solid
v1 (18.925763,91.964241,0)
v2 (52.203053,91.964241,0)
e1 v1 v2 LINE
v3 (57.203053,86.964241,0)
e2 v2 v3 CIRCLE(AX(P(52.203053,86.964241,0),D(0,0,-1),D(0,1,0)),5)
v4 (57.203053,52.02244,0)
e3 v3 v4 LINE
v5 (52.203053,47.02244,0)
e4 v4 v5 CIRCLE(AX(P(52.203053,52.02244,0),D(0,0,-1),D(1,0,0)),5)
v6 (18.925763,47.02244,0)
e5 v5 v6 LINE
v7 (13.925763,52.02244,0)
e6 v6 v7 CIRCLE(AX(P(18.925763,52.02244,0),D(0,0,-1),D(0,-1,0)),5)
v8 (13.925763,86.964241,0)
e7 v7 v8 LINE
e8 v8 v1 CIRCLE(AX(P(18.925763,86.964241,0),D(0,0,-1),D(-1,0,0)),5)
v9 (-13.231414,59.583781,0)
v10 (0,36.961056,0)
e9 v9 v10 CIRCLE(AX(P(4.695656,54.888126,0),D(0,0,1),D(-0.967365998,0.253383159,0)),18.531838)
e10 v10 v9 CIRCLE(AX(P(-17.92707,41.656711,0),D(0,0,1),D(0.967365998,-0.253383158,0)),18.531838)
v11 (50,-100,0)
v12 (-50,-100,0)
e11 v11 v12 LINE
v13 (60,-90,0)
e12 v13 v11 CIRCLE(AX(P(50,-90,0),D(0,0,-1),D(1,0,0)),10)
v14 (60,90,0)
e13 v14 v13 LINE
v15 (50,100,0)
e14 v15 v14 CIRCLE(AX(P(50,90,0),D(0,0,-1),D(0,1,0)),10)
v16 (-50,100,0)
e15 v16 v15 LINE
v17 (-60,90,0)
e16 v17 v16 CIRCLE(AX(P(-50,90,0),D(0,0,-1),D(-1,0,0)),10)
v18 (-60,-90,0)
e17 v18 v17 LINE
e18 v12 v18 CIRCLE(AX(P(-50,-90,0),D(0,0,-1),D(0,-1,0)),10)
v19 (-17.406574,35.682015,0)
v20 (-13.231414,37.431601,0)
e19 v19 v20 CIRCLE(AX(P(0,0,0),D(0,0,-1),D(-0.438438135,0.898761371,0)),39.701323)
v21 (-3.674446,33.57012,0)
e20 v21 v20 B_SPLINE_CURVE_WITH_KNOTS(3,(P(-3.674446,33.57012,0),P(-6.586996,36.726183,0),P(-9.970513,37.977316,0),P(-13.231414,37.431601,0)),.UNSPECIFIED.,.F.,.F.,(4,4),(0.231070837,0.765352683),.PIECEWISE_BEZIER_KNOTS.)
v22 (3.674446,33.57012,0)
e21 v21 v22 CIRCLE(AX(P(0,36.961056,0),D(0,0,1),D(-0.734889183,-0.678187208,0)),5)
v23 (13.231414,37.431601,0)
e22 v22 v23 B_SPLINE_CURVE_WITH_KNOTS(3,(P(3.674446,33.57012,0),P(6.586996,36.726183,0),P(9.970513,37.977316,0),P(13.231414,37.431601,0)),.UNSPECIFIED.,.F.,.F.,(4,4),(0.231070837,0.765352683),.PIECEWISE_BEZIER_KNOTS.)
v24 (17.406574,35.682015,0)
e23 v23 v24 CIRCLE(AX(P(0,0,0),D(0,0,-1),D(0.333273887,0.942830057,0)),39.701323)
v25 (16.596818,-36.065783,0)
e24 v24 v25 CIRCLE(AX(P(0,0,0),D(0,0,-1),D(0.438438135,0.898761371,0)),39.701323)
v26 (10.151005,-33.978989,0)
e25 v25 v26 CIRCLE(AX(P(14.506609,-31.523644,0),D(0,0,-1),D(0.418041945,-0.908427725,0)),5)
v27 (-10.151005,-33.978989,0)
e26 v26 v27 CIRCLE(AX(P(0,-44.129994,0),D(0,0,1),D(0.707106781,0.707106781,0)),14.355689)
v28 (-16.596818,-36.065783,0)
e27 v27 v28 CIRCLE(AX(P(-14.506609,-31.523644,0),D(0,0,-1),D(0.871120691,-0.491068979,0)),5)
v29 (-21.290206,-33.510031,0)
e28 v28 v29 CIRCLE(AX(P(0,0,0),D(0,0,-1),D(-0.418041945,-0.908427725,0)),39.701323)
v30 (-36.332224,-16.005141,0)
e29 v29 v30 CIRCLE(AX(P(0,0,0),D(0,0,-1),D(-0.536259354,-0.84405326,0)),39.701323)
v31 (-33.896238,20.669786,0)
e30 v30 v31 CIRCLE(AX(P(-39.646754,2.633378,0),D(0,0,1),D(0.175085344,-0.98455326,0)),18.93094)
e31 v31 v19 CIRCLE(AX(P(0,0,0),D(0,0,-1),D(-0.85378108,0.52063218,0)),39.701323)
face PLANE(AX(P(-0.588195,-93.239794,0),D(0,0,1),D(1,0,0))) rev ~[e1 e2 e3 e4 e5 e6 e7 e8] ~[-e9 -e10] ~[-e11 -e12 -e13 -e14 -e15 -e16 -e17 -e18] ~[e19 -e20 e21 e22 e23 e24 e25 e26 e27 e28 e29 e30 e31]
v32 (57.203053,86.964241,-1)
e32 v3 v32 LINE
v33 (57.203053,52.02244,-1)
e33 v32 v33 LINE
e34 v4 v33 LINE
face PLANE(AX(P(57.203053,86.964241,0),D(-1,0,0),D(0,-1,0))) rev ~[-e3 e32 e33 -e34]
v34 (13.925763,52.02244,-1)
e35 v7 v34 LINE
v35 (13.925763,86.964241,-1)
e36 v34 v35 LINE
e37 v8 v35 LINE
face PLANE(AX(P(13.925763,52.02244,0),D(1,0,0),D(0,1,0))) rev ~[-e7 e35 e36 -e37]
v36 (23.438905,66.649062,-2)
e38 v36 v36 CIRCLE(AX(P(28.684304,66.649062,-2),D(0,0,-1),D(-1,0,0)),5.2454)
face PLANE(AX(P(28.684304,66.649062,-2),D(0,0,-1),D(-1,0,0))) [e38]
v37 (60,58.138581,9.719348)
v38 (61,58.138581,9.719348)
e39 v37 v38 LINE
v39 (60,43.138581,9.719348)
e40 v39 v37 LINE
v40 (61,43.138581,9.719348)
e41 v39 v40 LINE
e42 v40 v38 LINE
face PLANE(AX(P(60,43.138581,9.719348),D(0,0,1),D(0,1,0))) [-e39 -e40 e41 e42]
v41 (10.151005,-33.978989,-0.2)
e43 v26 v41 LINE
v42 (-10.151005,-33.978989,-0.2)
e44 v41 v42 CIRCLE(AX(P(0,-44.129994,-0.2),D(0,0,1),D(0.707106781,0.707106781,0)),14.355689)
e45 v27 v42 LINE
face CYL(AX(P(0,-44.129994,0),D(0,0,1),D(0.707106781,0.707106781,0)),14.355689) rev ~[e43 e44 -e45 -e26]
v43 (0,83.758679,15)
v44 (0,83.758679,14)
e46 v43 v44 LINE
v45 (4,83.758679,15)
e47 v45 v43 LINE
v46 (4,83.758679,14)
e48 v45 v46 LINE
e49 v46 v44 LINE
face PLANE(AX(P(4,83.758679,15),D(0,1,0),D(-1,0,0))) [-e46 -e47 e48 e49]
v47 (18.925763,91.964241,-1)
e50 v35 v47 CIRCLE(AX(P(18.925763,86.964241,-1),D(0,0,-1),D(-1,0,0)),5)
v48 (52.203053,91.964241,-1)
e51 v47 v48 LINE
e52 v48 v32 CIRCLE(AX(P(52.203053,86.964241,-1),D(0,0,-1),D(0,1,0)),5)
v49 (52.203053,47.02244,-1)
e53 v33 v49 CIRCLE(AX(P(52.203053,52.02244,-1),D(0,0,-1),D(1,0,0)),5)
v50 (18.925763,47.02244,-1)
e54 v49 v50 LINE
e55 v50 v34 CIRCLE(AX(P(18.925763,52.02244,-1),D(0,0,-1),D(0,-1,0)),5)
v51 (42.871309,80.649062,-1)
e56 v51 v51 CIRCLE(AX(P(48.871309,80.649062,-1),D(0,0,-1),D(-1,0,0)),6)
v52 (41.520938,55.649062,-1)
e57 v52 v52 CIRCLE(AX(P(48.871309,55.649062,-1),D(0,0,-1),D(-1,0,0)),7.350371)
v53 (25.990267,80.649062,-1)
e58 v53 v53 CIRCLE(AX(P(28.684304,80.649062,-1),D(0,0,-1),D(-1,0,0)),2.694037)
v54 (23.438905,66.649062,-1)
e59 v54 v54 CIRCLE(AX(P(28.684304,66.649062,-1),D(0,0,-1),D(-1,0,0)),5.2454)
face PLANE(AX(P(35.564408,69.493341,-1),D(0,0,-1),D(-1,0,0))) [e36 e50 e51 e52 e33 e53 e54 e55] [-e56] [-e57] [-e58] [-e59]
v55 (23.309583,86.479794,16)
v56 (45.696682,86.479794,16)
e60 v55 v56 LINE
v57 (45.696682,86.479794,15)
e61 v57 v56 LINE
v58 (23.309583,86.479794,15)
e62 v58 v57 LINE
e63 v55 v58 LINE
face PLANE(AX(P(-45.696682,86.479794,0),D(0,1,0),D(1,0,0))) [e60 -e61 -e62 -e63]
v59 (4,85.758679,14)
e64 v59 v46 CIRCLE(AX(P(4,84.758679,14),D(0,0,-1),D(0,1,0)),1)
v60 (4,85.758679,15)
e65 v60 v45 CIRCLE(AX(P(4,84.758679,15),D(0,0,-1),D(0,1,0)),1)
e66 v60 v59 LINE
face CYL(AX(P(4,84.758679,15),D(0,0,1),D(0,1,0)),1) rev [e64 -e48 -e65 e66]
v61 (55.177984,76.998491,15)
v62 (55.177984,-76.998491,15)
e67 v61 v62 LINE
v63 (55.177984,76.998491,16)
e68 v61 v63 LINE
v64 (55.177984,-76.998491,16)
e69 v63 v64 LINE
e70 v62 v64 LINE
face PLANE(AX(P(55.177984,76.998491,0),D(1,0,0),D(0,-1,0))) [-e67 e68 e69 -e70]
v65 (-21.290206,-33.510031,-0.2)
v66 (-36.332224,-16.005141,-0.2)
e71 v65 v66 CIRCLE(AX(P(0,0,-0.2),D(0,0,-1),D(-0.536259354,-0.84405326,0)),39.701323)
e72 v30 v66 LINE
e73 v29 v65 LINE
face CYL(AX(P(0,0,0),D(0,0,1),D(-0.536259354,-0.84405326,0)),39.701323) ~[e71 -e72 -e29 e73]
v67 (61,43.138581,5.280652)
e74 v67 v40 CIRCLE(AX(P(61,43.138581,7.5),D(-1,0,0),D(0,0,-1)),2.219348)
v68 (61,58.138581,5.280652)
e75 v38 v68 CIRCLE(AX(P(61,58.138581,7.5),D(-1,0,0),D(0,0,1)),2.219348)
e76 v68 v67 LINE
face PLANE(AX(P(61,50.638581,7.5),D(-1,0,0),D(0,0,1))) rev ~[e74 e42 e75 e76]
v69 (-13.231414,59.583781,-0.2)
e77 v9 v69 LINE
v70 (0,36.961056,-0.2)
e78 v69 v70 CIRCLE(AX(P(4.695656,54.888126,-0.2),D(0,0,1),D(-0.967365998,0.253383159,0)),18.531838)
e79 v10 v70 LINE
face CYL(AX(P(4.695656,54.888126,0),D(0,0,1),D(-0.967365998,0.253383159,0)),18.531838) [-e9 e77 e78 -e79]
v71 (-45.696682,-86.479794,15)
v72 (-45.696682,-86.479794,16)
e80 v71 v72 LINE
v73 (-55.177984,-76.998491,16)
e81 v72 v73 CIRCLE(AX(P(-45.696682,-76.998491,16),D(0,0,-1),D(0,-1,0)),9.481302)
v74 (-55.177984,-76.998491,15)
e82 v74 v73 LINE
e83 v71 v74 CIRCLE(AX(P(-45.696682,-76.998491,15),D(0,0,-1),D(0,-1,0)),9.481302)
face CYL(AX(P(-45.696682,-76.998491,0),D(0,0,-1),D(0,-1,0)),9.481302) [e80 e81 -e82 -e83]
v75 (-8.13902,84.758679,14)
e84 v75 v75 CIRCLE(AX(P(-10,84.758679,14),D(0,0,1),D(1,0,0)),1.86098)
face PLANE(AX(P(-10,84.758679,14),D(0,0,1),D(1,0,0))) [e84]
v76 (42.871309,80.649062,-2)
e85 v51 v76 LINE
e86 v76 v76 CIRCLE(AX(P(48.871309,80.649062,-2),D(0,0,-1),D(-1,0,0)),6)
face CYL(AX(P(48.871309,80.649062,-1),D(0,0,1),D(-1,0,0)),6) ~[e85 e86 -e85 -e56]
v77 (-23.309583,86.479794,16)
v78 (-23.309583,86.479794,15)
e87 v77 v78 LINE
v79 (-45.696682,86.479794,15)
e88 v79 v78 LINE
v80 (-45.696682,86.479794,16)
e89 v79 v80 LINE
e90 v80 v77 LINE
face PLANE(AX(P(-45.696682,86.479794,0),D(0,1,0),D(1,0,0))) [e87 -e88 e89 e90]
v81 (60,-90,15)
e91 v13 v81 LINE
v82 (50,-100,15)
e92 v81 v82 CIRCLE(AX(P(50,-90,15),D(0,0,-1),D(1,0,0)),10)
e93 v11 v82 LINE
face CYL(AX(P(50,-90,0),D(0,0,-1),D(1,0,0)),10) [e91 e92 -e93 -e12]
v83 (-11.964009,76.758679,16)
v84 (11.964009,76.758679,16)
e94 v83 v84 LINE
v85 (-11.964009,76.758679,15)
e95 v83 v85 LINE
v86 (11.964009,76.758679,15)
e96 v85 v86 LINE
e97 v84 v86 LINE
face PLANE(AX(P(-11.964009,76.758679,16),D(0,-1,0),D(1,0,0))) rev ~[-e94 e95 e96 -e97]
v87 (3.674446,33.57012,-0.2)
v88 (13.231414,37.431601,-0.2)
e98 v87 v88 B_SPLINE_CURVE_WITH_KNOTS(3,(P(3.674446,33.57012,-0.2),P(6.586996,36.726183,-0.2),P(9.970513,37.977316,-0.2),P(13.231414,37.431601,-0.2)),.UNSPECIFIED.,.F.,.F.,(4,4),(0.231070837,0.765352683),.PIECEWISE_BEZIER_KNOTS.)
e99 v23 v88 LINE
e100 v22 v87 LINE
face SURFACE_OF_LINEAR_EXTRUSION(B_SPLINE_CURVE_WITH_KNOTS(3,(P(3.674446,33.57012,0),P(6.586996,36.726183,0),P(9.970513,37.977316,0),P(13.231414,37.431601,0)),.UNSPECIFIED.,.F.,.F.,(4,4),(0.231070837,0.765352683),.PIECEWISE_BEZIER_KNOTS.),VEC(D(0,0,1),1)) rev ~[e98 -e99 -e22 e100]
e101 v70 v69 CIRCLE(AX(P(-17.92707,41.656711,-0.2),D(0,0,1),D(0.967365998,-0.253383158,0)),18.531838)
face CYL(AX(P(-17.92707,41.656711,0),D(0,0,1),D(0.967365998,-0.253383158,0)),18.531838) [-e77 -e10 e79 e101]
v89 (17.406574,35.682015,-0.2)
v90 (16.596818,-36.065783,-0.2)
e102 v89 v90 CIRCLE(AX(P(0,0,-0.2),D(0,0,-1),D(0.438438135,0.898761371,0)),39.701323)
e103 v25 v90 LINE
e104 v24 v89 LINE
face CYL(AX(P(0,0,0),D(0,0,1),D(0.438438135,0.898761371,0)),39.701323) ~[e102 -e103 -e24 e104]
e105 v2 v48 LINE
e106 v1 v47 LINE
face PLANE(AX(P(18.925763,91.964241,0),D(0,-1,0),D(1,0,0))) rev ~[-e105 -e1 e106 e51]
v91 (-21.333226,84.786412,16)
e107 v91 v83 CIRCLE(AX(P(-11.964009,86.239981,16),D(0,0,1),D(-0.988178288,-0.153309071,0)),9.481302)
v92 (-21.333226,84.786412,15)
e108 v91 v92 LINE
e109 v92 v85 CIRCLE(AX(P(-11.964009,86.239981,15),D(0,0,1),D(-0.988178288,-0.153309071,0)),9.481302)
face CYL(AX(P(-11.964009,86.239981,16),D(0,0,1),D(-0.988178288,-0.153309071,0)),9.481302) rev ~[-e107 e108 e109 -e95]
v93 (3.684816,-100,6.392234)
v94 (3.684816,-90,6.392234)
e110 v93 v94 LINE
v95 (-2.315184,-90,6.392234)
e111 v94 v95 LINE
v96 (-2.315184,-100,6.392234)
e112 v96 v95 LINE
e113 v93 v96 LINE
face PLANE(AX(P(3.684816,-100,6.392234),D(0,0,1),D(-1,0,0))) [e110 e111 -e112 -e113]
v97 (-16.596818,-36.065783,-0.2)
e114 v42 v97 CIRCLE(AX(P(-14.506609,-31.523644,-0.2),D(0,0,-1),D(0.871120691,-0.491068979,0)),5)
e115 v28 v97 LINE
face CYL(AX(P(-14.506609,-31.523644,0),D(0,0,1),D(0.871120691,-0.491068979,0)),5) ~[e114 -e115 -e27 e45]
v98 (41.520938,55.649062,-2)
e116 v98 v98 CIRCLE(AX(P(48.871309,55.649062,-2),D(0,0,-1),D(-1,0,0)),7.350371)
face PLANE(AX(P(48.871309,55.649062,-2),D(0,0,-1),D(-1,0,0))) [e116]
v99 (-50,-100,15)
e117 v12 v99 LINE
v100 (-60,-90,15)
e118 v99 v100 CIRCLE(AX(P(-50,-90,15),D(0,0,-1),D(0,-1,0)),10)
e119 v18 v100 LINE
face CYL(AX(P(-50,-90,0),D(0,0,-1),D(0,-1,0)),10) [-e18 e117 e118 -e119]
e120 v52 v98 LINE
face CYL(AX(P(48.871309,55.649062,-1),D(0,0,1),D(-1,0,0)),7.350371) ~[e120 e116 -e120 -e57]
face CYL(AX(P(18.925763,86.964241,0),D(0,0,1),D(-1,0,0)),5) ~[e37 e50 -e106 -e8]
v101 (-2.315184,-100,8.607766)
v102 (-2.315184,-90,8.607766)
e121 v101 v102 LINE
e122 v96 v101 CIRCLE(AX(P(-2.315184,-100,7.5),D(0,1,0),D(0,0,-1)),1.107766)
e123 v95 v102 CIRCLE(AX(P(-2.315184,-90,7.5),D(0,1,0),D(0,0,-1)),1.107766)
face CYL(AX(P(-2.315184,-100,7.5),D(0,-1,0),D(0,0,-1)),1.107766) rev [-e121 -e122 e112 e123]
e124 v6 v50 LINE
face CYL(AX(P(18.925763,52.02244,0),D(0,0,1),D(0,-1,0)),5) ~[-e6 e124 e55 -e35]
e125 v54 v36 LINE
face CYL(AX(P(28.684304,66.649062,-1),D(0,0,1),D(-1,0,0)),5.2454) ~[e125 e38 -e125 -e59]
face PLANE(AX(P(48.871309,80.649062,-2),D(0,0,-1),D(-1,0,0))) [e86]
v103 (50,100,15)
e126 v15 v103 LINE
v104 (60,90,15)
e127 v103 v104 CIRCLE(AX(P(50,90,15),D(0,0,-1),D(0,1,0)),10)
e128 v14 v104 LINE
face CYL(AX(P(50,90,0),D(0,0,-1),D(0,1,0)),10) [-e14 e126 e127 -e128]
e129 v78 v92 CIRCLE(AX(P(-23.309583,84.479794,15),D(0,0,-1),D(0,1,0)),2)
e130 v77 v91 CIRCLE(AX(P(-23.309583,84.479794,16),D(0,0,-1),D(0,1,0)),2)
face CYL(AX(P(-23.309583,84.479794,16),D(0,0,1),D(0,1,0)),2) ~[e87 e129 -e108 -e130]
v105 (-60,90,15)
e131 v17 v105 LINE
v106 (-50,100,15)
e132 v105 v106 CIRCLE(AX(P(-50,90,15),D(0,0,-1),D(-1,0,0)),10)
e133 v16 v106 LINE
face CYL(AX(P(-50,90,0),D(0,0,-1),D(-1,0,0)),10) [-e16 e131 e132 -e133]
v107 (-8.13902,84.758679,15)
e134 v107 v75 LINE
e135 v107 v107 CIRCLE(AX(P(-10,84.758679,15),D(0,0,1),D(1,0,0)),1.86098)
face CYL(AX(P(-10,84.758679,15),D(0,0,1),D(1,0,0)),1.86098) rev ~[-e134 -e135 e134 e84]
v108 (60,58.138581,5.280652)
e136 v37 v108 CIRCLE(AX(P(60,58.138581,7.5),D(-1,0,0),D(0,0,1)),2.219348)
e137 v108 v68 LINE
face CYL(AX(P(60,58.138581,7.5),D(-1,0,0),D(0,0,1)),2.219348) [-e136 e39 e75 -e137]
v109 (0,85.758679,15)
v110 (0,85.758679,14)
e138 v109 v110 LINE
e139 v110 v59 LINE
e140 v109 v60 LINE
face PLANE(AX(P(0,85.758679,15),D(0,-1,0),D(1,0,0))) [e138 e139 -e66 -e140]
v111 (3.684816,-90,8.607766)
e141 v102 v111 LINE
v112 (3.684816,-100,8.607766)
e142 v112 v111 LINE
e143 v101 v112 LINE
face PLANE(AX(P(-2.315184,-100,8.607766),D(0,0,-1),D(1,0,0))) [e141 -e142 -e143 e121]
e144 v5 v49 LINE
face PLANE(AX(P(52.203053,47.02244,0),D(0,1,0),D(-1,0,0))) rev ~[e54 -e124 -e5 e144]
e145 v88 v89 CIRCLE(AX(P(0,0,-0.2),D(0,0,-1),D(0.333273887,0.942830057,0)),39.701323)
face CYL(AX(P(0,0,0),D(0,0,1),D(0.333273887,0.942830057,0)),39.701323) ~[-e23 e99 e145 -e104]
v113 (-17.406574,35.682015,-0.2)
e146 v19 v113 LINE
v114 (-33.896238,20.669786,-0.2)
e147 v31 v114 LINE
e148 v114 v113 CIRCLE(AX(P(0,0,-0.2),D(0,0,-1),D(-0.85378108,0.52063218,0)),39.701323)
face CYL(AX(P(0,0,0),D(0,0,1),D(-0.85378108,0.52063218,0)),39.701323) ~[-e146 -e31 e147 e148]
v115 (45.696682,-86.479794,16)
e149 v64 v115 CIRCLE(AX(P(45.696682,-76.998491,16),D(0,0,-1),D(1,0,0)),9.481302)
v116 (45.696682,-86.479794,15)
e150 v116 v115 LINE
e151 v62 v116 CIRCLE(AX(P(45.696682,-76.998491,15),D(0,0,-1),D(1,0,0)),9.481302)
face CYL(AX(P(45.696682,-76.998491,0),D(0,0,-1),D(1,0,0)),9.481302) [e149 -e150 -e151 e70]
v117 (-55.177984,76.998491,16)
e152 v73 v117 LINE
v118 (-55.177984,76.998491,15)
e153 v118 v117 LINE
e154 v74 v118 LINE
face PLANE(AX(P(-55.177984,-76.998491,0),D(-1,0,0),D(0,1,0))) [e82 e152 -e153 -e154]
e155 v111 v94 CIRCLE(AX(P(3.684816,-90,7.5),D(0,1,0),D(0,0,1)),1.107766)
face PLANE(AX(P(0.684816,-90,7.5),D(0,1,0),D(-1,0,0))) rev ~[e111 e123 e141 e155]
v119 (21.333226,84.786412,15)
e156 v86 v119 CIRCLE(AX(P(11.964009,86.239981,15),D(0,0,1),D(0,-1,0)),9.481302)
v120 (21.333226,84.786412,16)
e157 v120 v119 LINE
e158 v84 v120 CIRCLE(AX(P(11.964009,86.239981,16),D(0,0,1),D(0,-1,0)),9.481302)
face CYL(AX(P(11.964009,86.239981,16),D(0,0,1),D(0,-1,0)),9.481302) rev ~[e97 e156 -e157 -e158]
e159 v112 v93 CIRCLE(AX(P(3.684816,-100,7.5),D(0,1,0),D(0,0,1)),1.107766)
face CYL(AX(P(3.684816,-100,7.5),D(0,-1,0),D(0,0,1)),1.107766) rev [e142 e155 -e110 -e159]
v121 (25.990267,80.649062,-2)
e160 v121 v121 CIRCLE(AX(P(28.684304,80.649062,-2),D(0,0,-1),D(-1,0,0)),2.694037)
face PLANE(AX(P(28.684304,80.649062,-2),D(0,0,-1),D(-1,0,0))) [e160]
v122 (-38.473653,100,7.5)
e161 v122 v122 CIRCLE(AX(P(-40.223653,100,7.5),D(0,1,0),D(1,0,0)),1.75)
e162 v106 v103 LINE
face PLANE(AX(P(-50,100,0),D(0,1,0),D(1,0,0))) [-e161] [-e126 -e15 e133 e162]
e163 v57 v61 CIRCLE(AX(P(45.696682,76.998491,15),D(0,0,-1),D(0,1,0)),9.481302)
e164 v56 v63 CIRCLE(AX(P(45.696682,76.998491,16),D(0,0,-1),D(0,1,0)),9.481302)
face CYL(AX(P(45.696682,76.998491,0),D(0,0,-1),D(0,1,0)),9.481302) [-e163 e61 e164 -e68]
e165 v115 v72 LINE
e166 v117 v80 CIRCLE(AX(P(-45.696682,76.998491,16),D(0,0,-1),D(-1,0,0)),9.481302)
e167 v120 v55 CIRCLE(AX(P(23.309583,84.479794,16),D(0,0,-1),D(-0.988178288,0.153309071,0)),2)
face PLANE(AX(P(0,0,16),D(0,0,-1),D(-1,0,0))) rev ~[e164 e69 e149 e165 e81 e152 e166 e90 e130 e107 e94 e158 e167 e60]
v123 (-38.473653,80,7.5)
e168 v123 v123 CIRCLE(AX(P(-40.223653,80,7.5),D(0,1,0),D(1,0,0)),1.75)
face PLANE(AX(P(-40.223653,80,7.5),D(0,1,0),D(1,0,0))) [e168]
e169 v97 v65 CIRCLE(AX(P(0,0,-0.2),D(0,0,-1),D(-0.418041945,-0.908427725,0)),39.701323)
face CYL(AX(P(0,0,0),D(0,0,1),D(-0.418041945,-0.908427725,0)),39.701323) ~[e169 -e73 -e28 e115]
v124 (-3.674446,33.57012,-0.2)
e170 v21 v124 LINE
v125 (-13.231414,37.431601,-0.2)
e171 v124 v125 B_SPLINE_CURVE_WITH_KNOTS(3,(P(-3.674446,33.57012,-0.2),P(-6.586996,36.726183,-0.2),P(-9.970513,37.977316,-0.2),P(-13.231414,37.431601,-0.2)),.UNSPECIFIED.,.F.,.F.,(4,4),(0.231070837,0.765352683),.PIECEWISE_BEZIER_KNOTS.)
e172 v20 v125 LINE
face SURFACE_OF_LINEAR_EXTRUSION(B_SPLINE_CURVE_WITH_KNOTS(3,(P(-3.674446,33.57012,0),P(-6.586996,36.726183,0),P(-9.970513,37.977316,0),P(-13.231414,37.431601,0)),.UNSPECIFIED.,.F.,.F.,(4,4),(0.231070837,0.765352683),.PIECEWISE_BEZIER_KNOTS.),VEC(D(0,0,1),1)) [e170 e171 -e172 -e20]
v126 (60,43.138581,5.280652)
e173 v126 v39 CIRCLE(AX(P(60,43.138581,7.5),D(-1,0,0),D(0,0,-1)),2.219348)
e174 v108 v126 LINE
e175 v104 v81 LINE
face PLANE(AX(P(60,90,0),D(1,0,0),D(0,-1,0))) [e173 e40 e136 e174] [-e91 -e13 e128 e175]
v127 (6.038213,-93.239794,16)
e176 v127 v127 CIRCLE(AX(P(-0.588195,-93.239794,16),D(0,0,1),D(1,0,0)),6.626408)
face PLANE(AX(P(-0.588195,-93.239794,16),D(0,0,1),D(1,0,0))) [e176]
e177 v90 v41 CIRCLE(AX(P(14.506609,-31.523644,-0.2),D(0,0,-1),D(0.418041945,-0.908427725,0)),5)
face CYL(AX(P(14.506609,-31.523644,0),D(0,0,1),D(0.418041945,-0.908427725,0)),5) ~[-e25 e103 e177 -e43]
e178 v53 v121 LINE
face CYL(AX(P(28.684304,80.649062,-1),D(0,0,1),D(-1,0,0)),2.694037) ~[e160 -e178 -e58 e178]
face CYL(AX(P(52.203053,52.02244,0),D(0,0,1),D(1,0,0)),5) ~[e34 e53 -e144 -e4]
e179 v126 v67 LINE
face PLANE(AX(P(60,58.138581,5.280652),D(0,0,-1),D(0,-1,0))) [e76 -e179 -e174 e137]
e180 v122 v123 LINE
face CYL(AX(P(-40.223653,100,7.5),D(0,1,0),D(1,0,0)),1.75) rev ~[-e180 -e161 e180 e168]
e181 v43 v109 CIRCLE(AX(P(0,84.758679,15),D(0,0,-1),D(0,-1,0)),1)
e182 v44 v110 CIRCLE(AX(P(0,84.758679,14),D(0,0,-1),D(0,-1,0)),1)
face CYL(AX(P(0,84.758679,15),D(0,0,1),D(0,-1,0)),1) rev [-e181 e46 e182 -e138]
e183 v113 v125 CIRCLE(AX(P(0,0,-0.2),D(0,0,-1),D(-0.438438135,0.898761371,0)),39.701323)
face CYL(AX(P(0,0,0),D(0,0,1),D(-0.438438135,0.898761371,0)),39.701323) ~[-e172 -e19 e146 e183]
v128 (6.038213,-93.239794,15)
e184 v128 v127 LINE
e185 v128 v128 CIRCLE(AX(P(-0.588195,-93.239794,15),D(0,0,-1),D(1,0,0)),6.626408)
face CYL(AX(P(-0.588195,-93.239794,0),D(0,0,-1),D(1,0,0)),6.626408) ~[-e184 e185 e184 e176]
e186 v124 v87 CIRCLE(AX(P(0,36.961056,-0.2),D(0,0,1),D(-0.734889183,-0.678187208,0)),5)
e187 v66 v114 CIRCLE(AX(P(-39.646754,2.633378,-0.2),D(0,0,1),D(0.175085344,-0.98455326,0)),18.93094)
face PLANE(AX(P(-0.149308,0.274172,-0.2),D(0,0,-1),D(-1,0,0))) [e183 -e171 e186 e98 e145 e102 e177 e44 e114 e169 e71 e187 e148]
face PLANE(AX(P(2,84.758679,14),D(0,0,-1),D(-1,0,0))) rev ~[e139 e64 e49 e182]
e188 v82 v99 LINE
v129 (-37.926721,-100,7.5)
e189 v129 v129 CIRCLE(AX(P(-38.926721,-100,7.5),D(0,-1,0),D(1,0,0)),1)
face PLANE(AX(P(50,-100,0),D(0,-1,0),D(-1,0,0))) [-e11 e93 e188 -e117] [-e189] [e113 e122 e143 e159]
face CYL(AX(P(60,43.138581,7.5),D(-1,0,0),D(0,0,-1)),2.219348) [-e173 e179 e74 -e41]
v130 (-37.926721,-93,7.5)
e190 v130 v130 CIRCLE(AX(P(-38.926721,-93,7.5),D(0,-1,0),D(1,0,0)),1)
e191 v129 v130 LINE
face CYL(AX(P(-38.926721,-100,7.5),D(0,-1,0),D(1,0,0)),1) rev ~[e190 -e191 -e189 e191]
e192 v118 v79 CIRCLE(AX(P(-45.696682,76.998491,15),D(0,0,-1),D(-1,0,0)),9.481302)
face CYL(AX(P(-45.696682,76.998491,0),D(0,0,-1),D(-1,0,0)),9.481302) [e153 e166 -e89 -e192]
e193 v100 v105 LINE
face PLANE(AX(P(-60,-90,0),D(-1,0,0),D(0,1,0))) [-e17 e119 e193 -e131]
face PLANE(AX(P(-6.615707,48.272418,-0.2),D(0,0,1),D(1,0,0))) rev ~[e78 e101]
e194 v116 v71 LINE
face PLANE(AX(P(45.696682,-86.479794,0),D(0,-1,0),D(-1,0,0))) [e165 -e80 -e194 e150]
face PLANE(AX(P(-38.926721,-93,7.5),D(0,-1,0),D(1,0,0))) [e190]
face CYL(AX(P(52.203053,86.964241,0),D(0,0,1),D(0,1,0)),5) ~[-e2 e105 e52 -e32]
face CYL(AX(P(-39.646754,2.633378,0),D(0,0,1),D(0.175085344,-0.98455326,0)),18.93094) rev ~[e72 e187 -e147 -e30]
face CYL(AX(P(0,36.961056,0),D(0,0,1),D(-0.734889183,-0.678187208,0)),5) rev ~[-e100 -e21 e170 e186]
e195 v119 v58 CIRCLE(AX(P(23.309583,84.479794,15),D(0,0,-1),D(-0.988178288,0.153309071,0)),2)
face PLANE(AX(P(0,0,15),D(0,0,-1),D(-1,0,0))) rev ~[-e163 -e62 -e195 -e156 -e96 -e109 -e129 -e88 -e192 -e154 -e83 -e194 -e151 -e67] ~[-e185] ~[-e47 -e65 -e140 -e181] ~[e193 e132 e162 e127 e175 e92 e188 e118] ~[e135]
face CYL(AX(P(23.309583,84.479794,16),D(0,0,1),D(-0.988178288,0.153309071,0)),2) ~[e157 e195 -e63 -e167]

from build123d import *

# Parameters (mm, degrees)
BOSS_EXTRUDE1_DEPTH  = 15
BOSS_EXTRUDE2_DEPTH  = 16
CUT_EXTRUDE1_DEPTH   = 1
SKETCH6_R            = 6.626408405
BOSS_EXTRUDE7_DEPTH  = 16
CUT_EXTRUDE3_DEPTH   = 10
SKETCH8_R            = 1.860980047
CUT_EXTRUDE6_DEPTH   = 1
BOSS_EXTRUDE10_DEPTH = 1
SKETCH10_R           = 1
CUT_EXTRUDE7_DEPTH   = 7
SKETCH11_R           = 1.75
CUT_EXTRUDE8_DEPTH   = 20
BOSS_EXTRUDE13_DEPTH = 1
SKETCH13_R           = 6
SKETCH13_R_2         = 7.350371073
SKETCH13_R_3         = 5.24539952
SKETCH13_R_4         = 2.694037488
BOSS_EXTRUDE14_DEPTH = 1
BOSS_EXTRUDE19_DEPTH = 0.2


with BuildPart() as part:
    # Sketch3 → Boss-Extrude1 (new body)
    with BuildSketch(Plane.XY):
        with BuildLine():
            Line((-50, 100), (50, 100))
            ThreePointArc((50, 100), (57.071067812, 97.071067812), (60, 90))
            Line((60, 90), (60, -90))
            ThreePointArc((60, -90), (57.071067812, -97.071067812), (50, -100))
            Line((50, -100), (-50, -100))
            ThreePointArc((-50, -100), (-57.071067812, -97.071067812), (-60, -90))
            Line((-60, -90), (-60, 90))
            ThreePointArc((-60, 90), (-57.071067812, 97.071067812), (-50, 100))
        make_face()
    extrude(amount=BOSS_EXTRUDE1_DEPTH)

    # Sketch4 → Boss-Extrude2 (add)
    with BuildSketch(Plane.XY):
        with BuildLine():
            Line((-45.696681728, 86.479793583), (45.696681728, 86.479793583))
            ThreePointArc((45.696681728, 86.479793583), (52.400974756, 83.702784485), (55.177983854, 76.998491457))
            Line((55.177983854, 76.998491457), (55.177983854, -76.998491457))
            ThreePointArc((55.177983854, -76.998491457), (52.400974756, -83.702784485), (45.696681728, -86.479793583))
            Line((45.696681728, -86.479793583), (-45.696681728, -86.479793583))
            ThreePointArc((-45.696681728, -86.479793583), (-52.400974756, -83.702784485), (-55.177983854, -76.998491457))
            Line((-55.177983854, -76.998491457), (-55.177983854, 76.998491457))
            ThreePointArc((-55.177983854, 76.998491457), (-52.400974756, 83.702784485), (-45.696681728, 86.479793583))
        make_face()
    extrude(amount=BOSS_EXTRUDE2_DEPTH)

    # Sketch5 → Cut-Extrude1 (cut)
    with BuildSketch(Plane.XY.offset(16)):
        with BuildLine():
            Line((-11.964009061, 76.758679218), (11.964009061, 76.758679218))
            ThreePointArc((11.964009061, 76.758679218), (18.133018595, 79.040091667), (21.333225963, 84.786411725))
            ThreePointArc((21.333225963, 84.786411725), (22.008282474, 85.998549041), (23.309582539, 86.479793583))
            Line((23.309582539, 86.479793583), (-7.969065225, 86.479793583))
            Line((-7.969065225, 86.479793583), (-23.309582539, 86.479793583))
            ThreePointArc((-23.309582539, 86.479793583), (-22.008282474, 85.998549041), (-21.333225963, 84.786411725))
            ThreePointArc((-21.333225963, 84.786411725), (-18.133018595, 79.040091667), (-11.964009061, 76.758679218))
        make_face()
    extrude(amount=-CUT_EXTRUDE1_DEPTH, mode=Mode.SUBTRACT)

    # Sketch6 → Boss-Extrude7 (add)
    with BuildSketch(Plane.XY):
        with Locations((-0.588195402, -93.239793583)):
            Circle(SKETCH6_R)
    extrude(amount=BOSS_EXTRUDE7_DEPTH)

    # Sketch7 → Cut-Extrude3 (cut)
    with BuildSketch(Plane.XZ.offset(100)):
        with BuildLine():
            Line((3.684816301, 6.392233542), (-2.315183699, 6.392233542))
            ThreePointArc((-2.315183699, 6.392233542), (-3.422950157, 7.5), (-2.315183699, 8.607766458))
            Line((-2.315183699, 8.607766458), (3.684816301, 8.607766458))
            ThreePointArc((3.684816301, 8.607766458), (4.792582759, 7.5), (3.684816301, 6.392233542))
        make_face()
    extrude(amount=-CUT_EXTRUDE3_DEPTH, mode=Mode.SUBTRACT)

    # Sketch8 → Cut-Extrude6 (cut)
    with BuildSketch(Plane.XY.offset(15)):
        with Locations((-10, 84.758679218)):
            Circle(SKETCH8_R)
        with BuildLine():
            Line((0, 85.758679218), (4, 85.758679218))
            ThreePointArc((4, 85.758679218), (5, 84.758679218), (4, 83.758679218))
            Line((4, 83.758679218), (0, 83.758679218))
            ThreePointArc((0, 83.758679218), (-1, 84.758679218), (0, 85.758679218))
        make_face()
    extrude(amount=-CUT_EXTRUDE6_DEPTH, mode=Mode.SUBTRACT)

    # Sketch9 → Boss-Extrude10 (add)
    with BuildSketch(Plane(origin=(60, 0, 0), x_dir=(0, 0, -1), z_dir=(1, 0, 0))):
        with BuildLine():
            Line((-5.280651792, 58.138580799), (-5.280651792, 43.138580799))
            ThreePointArc((-5.280651792, 43.138580799), (-7.5, 40.919232591), (-9.719348208, 43.138580799))
            Line((-9.719348208, 43.138580799), (-9.719348208, 58.138580799))
            ThreePointArc((-9.719348208, 58.138580799), (-7.5, 60.357929008), (-5.280651792, 58.138580799))
        make_face()
    extrude(amount=BOSS_EXTRUDE10_DEPTH)

    # Sketch10 → Cut-Extrude7 (cut)
    with BuildSketch(Plane.XZ.offset(100)):
        with Locations((-38.926720921, 7.5)):
            Circle(SKETCH10_R)
    extrude(amount=-CUT_EXTRUDE7_DEPTH, mode=Mode.SUBTRACT)

    # Sketch11 → Cut-Extrude8 (cut)
    with BuildSketch(Plane(origin=(0, 100, 0), x_dir=(1, 0, 0), z_dir=(0, 1, 0))):
        with Locations((-40.22365253, -7.5)):
            Circle(SKETCH11_R)
    extrude(amount=-CUT_EXTRUDE8_DEPTH, mode=Mode.SUBTRACT)

    # Sketch12 → Boss-Extrude13 (add)
    with BuildSketch(Plane(origin=(0, 0, 0), x_dir=(-1, 0, 0), z_dir=(0, 0, -1))):
        with BuildLine():
            Line((-18.925763354, 91.964241382), (-52.203053416, 91.964241382))
            ThreePointArc((-52.203053416, 91.964241382), (-55.738587322, 90.499775288), (-57.203053416, 86.964241382))
            Line((-57.203053416, 86.964241382), (-57.203053416, 52.022440164))
            ThreePointArc((-57.203053416, 52.022440164), (-55.738587322, 48.486906258), (-52.203053416, 47.022440164))
            Line((-52.203053416, 47.022440164), (-18.925763354, 47.022440164))
            ThreePointArc((-18.925763354, 47.022440164), (-15.390229448, 48.486906258), (-13.925763354, 52.022440164))
            Line((-13.925763354, 52.022440164), (-13.925763354, 86.964241382))
            ThreePointArc((-13.925763354, 86.964241382), (-15.390229448, 90.499775288), (-18.925763354, 91.964241382))
        make_face()
    extrude(amount=BOSS_EXTRUDE13_DEPTH)

    # Sketch13 → Boss-Extrude14 (add)
    with BuildSketch(Plane(origin=(0, 0, -1), x_dir=(-1, 0, 0), z_dir=(0, 0, -1))):
        with Locations((-48.871309333, 80.649061989)):
            Circle(SKETCH13_R)
        with Locations((-48.871309333, 55.649061989)):
            Circle(SKETCH13_R_2)
        with Locations((-28.684304458, 66.649061989)):
            Circle(SKETCH13_R_3)
        with Locations((-28.684304458, 80.649061989)):
            Circle(SKETCH13_R_4)
    extrude(amount=BOSS_EXTRUDE14_DEPTH)

    # Sketch14 → Boss-Extrude19 (add)
    with BuildSketch(Plane(origin=(0, 0, 0), x_dir=(-1, 0, 0), z_dir=(0, 0, -1))):
        with BuildLine():
            add(Edge.make_bspline(
                [(-3.674445913, 33.570119731), (-6.586996245, 36.726182993), (-9.97051323, 37.977315522), (-13.231414187, 37.431600611)],
                knots=[0.231070837, 0.231070837, 0.231070837, 0.231070837, 0.765352683, 0.765352683, 0.765352683, 0.765352683], degree=3))
            ThreePointArc((-13.231414187, 37.431600611), (-15.343951329, 36.616365238), (-17.406574019, 35.68201545))
            ThreePointArc((-17.406574019, 35.68201545), (-39.698794696, -0.448046182), (-16.596818278, -36.065782519))
            ThreePointArc((-16.596818278, -36.065782519), (-12.966582836, -36.280567352), (-10.151005098, -33.978988787))
            ThreePointArc((-10.151005098, -33.978988787), (0, -29.774304804), (10.151005098, -33.978988787))
            ThreePointArc((10.151005098, -33.978988787), (12.966582836, -36.280567352), (16.596818278, -36.065782519))
            ThreePointArc((16.596818278, -36.065782519), (18.986564068, -34.866967613), (21.29020582, -33.510031062))
            ThreePointArc((21.29020582, -33.510031062), (30.111316996, -25.874768297), (36.332224295, -16.005140531))
            ThreePointArc((36.332224295, -16.005140531), (20.757436471, 1.37873001), (33.896238409, 20.669786341))
            ThreePointArc((33.896238409, 20.669786341), (26.727072351, 29.357429199), (17.406574019, 35.68201545))
            ThreePointArc((17.406574019, 35.68201545), (15.343951329, 36.616365238), (13.231414187, 37.431600611))
            add(Edge.make_bspline(
                [(3.674445913, 33.570119731), (6.586996245, 36.726182993), (9.97051323, 37.977315522), (13.231414187, 37.431600611)],
                knots=[0.231070837, 0.231070837, 0.231070837, 0.231070837, 0.765352683, 0.765352683, 0.765352683, 0.765352683], degree=3))
            ThreePointArc((3.674445913, 33.570119731), (0, 31.961055772), (-3.674445913, 33.570119731))
        make_face()
        with BuildLine():
            ThreePointArc((13.231414187, 59.583781152), (11.301026929, 45.532102859), (0, 36.961055772))
            ThreePointArc((0, 36.961055772), (1.930387259, 51.012734065), (13.231414187, 59.583781152))
        make_face()
    extrude(amount=BOSS_EXTRUDE19_DEPTH)


solid = part.part
